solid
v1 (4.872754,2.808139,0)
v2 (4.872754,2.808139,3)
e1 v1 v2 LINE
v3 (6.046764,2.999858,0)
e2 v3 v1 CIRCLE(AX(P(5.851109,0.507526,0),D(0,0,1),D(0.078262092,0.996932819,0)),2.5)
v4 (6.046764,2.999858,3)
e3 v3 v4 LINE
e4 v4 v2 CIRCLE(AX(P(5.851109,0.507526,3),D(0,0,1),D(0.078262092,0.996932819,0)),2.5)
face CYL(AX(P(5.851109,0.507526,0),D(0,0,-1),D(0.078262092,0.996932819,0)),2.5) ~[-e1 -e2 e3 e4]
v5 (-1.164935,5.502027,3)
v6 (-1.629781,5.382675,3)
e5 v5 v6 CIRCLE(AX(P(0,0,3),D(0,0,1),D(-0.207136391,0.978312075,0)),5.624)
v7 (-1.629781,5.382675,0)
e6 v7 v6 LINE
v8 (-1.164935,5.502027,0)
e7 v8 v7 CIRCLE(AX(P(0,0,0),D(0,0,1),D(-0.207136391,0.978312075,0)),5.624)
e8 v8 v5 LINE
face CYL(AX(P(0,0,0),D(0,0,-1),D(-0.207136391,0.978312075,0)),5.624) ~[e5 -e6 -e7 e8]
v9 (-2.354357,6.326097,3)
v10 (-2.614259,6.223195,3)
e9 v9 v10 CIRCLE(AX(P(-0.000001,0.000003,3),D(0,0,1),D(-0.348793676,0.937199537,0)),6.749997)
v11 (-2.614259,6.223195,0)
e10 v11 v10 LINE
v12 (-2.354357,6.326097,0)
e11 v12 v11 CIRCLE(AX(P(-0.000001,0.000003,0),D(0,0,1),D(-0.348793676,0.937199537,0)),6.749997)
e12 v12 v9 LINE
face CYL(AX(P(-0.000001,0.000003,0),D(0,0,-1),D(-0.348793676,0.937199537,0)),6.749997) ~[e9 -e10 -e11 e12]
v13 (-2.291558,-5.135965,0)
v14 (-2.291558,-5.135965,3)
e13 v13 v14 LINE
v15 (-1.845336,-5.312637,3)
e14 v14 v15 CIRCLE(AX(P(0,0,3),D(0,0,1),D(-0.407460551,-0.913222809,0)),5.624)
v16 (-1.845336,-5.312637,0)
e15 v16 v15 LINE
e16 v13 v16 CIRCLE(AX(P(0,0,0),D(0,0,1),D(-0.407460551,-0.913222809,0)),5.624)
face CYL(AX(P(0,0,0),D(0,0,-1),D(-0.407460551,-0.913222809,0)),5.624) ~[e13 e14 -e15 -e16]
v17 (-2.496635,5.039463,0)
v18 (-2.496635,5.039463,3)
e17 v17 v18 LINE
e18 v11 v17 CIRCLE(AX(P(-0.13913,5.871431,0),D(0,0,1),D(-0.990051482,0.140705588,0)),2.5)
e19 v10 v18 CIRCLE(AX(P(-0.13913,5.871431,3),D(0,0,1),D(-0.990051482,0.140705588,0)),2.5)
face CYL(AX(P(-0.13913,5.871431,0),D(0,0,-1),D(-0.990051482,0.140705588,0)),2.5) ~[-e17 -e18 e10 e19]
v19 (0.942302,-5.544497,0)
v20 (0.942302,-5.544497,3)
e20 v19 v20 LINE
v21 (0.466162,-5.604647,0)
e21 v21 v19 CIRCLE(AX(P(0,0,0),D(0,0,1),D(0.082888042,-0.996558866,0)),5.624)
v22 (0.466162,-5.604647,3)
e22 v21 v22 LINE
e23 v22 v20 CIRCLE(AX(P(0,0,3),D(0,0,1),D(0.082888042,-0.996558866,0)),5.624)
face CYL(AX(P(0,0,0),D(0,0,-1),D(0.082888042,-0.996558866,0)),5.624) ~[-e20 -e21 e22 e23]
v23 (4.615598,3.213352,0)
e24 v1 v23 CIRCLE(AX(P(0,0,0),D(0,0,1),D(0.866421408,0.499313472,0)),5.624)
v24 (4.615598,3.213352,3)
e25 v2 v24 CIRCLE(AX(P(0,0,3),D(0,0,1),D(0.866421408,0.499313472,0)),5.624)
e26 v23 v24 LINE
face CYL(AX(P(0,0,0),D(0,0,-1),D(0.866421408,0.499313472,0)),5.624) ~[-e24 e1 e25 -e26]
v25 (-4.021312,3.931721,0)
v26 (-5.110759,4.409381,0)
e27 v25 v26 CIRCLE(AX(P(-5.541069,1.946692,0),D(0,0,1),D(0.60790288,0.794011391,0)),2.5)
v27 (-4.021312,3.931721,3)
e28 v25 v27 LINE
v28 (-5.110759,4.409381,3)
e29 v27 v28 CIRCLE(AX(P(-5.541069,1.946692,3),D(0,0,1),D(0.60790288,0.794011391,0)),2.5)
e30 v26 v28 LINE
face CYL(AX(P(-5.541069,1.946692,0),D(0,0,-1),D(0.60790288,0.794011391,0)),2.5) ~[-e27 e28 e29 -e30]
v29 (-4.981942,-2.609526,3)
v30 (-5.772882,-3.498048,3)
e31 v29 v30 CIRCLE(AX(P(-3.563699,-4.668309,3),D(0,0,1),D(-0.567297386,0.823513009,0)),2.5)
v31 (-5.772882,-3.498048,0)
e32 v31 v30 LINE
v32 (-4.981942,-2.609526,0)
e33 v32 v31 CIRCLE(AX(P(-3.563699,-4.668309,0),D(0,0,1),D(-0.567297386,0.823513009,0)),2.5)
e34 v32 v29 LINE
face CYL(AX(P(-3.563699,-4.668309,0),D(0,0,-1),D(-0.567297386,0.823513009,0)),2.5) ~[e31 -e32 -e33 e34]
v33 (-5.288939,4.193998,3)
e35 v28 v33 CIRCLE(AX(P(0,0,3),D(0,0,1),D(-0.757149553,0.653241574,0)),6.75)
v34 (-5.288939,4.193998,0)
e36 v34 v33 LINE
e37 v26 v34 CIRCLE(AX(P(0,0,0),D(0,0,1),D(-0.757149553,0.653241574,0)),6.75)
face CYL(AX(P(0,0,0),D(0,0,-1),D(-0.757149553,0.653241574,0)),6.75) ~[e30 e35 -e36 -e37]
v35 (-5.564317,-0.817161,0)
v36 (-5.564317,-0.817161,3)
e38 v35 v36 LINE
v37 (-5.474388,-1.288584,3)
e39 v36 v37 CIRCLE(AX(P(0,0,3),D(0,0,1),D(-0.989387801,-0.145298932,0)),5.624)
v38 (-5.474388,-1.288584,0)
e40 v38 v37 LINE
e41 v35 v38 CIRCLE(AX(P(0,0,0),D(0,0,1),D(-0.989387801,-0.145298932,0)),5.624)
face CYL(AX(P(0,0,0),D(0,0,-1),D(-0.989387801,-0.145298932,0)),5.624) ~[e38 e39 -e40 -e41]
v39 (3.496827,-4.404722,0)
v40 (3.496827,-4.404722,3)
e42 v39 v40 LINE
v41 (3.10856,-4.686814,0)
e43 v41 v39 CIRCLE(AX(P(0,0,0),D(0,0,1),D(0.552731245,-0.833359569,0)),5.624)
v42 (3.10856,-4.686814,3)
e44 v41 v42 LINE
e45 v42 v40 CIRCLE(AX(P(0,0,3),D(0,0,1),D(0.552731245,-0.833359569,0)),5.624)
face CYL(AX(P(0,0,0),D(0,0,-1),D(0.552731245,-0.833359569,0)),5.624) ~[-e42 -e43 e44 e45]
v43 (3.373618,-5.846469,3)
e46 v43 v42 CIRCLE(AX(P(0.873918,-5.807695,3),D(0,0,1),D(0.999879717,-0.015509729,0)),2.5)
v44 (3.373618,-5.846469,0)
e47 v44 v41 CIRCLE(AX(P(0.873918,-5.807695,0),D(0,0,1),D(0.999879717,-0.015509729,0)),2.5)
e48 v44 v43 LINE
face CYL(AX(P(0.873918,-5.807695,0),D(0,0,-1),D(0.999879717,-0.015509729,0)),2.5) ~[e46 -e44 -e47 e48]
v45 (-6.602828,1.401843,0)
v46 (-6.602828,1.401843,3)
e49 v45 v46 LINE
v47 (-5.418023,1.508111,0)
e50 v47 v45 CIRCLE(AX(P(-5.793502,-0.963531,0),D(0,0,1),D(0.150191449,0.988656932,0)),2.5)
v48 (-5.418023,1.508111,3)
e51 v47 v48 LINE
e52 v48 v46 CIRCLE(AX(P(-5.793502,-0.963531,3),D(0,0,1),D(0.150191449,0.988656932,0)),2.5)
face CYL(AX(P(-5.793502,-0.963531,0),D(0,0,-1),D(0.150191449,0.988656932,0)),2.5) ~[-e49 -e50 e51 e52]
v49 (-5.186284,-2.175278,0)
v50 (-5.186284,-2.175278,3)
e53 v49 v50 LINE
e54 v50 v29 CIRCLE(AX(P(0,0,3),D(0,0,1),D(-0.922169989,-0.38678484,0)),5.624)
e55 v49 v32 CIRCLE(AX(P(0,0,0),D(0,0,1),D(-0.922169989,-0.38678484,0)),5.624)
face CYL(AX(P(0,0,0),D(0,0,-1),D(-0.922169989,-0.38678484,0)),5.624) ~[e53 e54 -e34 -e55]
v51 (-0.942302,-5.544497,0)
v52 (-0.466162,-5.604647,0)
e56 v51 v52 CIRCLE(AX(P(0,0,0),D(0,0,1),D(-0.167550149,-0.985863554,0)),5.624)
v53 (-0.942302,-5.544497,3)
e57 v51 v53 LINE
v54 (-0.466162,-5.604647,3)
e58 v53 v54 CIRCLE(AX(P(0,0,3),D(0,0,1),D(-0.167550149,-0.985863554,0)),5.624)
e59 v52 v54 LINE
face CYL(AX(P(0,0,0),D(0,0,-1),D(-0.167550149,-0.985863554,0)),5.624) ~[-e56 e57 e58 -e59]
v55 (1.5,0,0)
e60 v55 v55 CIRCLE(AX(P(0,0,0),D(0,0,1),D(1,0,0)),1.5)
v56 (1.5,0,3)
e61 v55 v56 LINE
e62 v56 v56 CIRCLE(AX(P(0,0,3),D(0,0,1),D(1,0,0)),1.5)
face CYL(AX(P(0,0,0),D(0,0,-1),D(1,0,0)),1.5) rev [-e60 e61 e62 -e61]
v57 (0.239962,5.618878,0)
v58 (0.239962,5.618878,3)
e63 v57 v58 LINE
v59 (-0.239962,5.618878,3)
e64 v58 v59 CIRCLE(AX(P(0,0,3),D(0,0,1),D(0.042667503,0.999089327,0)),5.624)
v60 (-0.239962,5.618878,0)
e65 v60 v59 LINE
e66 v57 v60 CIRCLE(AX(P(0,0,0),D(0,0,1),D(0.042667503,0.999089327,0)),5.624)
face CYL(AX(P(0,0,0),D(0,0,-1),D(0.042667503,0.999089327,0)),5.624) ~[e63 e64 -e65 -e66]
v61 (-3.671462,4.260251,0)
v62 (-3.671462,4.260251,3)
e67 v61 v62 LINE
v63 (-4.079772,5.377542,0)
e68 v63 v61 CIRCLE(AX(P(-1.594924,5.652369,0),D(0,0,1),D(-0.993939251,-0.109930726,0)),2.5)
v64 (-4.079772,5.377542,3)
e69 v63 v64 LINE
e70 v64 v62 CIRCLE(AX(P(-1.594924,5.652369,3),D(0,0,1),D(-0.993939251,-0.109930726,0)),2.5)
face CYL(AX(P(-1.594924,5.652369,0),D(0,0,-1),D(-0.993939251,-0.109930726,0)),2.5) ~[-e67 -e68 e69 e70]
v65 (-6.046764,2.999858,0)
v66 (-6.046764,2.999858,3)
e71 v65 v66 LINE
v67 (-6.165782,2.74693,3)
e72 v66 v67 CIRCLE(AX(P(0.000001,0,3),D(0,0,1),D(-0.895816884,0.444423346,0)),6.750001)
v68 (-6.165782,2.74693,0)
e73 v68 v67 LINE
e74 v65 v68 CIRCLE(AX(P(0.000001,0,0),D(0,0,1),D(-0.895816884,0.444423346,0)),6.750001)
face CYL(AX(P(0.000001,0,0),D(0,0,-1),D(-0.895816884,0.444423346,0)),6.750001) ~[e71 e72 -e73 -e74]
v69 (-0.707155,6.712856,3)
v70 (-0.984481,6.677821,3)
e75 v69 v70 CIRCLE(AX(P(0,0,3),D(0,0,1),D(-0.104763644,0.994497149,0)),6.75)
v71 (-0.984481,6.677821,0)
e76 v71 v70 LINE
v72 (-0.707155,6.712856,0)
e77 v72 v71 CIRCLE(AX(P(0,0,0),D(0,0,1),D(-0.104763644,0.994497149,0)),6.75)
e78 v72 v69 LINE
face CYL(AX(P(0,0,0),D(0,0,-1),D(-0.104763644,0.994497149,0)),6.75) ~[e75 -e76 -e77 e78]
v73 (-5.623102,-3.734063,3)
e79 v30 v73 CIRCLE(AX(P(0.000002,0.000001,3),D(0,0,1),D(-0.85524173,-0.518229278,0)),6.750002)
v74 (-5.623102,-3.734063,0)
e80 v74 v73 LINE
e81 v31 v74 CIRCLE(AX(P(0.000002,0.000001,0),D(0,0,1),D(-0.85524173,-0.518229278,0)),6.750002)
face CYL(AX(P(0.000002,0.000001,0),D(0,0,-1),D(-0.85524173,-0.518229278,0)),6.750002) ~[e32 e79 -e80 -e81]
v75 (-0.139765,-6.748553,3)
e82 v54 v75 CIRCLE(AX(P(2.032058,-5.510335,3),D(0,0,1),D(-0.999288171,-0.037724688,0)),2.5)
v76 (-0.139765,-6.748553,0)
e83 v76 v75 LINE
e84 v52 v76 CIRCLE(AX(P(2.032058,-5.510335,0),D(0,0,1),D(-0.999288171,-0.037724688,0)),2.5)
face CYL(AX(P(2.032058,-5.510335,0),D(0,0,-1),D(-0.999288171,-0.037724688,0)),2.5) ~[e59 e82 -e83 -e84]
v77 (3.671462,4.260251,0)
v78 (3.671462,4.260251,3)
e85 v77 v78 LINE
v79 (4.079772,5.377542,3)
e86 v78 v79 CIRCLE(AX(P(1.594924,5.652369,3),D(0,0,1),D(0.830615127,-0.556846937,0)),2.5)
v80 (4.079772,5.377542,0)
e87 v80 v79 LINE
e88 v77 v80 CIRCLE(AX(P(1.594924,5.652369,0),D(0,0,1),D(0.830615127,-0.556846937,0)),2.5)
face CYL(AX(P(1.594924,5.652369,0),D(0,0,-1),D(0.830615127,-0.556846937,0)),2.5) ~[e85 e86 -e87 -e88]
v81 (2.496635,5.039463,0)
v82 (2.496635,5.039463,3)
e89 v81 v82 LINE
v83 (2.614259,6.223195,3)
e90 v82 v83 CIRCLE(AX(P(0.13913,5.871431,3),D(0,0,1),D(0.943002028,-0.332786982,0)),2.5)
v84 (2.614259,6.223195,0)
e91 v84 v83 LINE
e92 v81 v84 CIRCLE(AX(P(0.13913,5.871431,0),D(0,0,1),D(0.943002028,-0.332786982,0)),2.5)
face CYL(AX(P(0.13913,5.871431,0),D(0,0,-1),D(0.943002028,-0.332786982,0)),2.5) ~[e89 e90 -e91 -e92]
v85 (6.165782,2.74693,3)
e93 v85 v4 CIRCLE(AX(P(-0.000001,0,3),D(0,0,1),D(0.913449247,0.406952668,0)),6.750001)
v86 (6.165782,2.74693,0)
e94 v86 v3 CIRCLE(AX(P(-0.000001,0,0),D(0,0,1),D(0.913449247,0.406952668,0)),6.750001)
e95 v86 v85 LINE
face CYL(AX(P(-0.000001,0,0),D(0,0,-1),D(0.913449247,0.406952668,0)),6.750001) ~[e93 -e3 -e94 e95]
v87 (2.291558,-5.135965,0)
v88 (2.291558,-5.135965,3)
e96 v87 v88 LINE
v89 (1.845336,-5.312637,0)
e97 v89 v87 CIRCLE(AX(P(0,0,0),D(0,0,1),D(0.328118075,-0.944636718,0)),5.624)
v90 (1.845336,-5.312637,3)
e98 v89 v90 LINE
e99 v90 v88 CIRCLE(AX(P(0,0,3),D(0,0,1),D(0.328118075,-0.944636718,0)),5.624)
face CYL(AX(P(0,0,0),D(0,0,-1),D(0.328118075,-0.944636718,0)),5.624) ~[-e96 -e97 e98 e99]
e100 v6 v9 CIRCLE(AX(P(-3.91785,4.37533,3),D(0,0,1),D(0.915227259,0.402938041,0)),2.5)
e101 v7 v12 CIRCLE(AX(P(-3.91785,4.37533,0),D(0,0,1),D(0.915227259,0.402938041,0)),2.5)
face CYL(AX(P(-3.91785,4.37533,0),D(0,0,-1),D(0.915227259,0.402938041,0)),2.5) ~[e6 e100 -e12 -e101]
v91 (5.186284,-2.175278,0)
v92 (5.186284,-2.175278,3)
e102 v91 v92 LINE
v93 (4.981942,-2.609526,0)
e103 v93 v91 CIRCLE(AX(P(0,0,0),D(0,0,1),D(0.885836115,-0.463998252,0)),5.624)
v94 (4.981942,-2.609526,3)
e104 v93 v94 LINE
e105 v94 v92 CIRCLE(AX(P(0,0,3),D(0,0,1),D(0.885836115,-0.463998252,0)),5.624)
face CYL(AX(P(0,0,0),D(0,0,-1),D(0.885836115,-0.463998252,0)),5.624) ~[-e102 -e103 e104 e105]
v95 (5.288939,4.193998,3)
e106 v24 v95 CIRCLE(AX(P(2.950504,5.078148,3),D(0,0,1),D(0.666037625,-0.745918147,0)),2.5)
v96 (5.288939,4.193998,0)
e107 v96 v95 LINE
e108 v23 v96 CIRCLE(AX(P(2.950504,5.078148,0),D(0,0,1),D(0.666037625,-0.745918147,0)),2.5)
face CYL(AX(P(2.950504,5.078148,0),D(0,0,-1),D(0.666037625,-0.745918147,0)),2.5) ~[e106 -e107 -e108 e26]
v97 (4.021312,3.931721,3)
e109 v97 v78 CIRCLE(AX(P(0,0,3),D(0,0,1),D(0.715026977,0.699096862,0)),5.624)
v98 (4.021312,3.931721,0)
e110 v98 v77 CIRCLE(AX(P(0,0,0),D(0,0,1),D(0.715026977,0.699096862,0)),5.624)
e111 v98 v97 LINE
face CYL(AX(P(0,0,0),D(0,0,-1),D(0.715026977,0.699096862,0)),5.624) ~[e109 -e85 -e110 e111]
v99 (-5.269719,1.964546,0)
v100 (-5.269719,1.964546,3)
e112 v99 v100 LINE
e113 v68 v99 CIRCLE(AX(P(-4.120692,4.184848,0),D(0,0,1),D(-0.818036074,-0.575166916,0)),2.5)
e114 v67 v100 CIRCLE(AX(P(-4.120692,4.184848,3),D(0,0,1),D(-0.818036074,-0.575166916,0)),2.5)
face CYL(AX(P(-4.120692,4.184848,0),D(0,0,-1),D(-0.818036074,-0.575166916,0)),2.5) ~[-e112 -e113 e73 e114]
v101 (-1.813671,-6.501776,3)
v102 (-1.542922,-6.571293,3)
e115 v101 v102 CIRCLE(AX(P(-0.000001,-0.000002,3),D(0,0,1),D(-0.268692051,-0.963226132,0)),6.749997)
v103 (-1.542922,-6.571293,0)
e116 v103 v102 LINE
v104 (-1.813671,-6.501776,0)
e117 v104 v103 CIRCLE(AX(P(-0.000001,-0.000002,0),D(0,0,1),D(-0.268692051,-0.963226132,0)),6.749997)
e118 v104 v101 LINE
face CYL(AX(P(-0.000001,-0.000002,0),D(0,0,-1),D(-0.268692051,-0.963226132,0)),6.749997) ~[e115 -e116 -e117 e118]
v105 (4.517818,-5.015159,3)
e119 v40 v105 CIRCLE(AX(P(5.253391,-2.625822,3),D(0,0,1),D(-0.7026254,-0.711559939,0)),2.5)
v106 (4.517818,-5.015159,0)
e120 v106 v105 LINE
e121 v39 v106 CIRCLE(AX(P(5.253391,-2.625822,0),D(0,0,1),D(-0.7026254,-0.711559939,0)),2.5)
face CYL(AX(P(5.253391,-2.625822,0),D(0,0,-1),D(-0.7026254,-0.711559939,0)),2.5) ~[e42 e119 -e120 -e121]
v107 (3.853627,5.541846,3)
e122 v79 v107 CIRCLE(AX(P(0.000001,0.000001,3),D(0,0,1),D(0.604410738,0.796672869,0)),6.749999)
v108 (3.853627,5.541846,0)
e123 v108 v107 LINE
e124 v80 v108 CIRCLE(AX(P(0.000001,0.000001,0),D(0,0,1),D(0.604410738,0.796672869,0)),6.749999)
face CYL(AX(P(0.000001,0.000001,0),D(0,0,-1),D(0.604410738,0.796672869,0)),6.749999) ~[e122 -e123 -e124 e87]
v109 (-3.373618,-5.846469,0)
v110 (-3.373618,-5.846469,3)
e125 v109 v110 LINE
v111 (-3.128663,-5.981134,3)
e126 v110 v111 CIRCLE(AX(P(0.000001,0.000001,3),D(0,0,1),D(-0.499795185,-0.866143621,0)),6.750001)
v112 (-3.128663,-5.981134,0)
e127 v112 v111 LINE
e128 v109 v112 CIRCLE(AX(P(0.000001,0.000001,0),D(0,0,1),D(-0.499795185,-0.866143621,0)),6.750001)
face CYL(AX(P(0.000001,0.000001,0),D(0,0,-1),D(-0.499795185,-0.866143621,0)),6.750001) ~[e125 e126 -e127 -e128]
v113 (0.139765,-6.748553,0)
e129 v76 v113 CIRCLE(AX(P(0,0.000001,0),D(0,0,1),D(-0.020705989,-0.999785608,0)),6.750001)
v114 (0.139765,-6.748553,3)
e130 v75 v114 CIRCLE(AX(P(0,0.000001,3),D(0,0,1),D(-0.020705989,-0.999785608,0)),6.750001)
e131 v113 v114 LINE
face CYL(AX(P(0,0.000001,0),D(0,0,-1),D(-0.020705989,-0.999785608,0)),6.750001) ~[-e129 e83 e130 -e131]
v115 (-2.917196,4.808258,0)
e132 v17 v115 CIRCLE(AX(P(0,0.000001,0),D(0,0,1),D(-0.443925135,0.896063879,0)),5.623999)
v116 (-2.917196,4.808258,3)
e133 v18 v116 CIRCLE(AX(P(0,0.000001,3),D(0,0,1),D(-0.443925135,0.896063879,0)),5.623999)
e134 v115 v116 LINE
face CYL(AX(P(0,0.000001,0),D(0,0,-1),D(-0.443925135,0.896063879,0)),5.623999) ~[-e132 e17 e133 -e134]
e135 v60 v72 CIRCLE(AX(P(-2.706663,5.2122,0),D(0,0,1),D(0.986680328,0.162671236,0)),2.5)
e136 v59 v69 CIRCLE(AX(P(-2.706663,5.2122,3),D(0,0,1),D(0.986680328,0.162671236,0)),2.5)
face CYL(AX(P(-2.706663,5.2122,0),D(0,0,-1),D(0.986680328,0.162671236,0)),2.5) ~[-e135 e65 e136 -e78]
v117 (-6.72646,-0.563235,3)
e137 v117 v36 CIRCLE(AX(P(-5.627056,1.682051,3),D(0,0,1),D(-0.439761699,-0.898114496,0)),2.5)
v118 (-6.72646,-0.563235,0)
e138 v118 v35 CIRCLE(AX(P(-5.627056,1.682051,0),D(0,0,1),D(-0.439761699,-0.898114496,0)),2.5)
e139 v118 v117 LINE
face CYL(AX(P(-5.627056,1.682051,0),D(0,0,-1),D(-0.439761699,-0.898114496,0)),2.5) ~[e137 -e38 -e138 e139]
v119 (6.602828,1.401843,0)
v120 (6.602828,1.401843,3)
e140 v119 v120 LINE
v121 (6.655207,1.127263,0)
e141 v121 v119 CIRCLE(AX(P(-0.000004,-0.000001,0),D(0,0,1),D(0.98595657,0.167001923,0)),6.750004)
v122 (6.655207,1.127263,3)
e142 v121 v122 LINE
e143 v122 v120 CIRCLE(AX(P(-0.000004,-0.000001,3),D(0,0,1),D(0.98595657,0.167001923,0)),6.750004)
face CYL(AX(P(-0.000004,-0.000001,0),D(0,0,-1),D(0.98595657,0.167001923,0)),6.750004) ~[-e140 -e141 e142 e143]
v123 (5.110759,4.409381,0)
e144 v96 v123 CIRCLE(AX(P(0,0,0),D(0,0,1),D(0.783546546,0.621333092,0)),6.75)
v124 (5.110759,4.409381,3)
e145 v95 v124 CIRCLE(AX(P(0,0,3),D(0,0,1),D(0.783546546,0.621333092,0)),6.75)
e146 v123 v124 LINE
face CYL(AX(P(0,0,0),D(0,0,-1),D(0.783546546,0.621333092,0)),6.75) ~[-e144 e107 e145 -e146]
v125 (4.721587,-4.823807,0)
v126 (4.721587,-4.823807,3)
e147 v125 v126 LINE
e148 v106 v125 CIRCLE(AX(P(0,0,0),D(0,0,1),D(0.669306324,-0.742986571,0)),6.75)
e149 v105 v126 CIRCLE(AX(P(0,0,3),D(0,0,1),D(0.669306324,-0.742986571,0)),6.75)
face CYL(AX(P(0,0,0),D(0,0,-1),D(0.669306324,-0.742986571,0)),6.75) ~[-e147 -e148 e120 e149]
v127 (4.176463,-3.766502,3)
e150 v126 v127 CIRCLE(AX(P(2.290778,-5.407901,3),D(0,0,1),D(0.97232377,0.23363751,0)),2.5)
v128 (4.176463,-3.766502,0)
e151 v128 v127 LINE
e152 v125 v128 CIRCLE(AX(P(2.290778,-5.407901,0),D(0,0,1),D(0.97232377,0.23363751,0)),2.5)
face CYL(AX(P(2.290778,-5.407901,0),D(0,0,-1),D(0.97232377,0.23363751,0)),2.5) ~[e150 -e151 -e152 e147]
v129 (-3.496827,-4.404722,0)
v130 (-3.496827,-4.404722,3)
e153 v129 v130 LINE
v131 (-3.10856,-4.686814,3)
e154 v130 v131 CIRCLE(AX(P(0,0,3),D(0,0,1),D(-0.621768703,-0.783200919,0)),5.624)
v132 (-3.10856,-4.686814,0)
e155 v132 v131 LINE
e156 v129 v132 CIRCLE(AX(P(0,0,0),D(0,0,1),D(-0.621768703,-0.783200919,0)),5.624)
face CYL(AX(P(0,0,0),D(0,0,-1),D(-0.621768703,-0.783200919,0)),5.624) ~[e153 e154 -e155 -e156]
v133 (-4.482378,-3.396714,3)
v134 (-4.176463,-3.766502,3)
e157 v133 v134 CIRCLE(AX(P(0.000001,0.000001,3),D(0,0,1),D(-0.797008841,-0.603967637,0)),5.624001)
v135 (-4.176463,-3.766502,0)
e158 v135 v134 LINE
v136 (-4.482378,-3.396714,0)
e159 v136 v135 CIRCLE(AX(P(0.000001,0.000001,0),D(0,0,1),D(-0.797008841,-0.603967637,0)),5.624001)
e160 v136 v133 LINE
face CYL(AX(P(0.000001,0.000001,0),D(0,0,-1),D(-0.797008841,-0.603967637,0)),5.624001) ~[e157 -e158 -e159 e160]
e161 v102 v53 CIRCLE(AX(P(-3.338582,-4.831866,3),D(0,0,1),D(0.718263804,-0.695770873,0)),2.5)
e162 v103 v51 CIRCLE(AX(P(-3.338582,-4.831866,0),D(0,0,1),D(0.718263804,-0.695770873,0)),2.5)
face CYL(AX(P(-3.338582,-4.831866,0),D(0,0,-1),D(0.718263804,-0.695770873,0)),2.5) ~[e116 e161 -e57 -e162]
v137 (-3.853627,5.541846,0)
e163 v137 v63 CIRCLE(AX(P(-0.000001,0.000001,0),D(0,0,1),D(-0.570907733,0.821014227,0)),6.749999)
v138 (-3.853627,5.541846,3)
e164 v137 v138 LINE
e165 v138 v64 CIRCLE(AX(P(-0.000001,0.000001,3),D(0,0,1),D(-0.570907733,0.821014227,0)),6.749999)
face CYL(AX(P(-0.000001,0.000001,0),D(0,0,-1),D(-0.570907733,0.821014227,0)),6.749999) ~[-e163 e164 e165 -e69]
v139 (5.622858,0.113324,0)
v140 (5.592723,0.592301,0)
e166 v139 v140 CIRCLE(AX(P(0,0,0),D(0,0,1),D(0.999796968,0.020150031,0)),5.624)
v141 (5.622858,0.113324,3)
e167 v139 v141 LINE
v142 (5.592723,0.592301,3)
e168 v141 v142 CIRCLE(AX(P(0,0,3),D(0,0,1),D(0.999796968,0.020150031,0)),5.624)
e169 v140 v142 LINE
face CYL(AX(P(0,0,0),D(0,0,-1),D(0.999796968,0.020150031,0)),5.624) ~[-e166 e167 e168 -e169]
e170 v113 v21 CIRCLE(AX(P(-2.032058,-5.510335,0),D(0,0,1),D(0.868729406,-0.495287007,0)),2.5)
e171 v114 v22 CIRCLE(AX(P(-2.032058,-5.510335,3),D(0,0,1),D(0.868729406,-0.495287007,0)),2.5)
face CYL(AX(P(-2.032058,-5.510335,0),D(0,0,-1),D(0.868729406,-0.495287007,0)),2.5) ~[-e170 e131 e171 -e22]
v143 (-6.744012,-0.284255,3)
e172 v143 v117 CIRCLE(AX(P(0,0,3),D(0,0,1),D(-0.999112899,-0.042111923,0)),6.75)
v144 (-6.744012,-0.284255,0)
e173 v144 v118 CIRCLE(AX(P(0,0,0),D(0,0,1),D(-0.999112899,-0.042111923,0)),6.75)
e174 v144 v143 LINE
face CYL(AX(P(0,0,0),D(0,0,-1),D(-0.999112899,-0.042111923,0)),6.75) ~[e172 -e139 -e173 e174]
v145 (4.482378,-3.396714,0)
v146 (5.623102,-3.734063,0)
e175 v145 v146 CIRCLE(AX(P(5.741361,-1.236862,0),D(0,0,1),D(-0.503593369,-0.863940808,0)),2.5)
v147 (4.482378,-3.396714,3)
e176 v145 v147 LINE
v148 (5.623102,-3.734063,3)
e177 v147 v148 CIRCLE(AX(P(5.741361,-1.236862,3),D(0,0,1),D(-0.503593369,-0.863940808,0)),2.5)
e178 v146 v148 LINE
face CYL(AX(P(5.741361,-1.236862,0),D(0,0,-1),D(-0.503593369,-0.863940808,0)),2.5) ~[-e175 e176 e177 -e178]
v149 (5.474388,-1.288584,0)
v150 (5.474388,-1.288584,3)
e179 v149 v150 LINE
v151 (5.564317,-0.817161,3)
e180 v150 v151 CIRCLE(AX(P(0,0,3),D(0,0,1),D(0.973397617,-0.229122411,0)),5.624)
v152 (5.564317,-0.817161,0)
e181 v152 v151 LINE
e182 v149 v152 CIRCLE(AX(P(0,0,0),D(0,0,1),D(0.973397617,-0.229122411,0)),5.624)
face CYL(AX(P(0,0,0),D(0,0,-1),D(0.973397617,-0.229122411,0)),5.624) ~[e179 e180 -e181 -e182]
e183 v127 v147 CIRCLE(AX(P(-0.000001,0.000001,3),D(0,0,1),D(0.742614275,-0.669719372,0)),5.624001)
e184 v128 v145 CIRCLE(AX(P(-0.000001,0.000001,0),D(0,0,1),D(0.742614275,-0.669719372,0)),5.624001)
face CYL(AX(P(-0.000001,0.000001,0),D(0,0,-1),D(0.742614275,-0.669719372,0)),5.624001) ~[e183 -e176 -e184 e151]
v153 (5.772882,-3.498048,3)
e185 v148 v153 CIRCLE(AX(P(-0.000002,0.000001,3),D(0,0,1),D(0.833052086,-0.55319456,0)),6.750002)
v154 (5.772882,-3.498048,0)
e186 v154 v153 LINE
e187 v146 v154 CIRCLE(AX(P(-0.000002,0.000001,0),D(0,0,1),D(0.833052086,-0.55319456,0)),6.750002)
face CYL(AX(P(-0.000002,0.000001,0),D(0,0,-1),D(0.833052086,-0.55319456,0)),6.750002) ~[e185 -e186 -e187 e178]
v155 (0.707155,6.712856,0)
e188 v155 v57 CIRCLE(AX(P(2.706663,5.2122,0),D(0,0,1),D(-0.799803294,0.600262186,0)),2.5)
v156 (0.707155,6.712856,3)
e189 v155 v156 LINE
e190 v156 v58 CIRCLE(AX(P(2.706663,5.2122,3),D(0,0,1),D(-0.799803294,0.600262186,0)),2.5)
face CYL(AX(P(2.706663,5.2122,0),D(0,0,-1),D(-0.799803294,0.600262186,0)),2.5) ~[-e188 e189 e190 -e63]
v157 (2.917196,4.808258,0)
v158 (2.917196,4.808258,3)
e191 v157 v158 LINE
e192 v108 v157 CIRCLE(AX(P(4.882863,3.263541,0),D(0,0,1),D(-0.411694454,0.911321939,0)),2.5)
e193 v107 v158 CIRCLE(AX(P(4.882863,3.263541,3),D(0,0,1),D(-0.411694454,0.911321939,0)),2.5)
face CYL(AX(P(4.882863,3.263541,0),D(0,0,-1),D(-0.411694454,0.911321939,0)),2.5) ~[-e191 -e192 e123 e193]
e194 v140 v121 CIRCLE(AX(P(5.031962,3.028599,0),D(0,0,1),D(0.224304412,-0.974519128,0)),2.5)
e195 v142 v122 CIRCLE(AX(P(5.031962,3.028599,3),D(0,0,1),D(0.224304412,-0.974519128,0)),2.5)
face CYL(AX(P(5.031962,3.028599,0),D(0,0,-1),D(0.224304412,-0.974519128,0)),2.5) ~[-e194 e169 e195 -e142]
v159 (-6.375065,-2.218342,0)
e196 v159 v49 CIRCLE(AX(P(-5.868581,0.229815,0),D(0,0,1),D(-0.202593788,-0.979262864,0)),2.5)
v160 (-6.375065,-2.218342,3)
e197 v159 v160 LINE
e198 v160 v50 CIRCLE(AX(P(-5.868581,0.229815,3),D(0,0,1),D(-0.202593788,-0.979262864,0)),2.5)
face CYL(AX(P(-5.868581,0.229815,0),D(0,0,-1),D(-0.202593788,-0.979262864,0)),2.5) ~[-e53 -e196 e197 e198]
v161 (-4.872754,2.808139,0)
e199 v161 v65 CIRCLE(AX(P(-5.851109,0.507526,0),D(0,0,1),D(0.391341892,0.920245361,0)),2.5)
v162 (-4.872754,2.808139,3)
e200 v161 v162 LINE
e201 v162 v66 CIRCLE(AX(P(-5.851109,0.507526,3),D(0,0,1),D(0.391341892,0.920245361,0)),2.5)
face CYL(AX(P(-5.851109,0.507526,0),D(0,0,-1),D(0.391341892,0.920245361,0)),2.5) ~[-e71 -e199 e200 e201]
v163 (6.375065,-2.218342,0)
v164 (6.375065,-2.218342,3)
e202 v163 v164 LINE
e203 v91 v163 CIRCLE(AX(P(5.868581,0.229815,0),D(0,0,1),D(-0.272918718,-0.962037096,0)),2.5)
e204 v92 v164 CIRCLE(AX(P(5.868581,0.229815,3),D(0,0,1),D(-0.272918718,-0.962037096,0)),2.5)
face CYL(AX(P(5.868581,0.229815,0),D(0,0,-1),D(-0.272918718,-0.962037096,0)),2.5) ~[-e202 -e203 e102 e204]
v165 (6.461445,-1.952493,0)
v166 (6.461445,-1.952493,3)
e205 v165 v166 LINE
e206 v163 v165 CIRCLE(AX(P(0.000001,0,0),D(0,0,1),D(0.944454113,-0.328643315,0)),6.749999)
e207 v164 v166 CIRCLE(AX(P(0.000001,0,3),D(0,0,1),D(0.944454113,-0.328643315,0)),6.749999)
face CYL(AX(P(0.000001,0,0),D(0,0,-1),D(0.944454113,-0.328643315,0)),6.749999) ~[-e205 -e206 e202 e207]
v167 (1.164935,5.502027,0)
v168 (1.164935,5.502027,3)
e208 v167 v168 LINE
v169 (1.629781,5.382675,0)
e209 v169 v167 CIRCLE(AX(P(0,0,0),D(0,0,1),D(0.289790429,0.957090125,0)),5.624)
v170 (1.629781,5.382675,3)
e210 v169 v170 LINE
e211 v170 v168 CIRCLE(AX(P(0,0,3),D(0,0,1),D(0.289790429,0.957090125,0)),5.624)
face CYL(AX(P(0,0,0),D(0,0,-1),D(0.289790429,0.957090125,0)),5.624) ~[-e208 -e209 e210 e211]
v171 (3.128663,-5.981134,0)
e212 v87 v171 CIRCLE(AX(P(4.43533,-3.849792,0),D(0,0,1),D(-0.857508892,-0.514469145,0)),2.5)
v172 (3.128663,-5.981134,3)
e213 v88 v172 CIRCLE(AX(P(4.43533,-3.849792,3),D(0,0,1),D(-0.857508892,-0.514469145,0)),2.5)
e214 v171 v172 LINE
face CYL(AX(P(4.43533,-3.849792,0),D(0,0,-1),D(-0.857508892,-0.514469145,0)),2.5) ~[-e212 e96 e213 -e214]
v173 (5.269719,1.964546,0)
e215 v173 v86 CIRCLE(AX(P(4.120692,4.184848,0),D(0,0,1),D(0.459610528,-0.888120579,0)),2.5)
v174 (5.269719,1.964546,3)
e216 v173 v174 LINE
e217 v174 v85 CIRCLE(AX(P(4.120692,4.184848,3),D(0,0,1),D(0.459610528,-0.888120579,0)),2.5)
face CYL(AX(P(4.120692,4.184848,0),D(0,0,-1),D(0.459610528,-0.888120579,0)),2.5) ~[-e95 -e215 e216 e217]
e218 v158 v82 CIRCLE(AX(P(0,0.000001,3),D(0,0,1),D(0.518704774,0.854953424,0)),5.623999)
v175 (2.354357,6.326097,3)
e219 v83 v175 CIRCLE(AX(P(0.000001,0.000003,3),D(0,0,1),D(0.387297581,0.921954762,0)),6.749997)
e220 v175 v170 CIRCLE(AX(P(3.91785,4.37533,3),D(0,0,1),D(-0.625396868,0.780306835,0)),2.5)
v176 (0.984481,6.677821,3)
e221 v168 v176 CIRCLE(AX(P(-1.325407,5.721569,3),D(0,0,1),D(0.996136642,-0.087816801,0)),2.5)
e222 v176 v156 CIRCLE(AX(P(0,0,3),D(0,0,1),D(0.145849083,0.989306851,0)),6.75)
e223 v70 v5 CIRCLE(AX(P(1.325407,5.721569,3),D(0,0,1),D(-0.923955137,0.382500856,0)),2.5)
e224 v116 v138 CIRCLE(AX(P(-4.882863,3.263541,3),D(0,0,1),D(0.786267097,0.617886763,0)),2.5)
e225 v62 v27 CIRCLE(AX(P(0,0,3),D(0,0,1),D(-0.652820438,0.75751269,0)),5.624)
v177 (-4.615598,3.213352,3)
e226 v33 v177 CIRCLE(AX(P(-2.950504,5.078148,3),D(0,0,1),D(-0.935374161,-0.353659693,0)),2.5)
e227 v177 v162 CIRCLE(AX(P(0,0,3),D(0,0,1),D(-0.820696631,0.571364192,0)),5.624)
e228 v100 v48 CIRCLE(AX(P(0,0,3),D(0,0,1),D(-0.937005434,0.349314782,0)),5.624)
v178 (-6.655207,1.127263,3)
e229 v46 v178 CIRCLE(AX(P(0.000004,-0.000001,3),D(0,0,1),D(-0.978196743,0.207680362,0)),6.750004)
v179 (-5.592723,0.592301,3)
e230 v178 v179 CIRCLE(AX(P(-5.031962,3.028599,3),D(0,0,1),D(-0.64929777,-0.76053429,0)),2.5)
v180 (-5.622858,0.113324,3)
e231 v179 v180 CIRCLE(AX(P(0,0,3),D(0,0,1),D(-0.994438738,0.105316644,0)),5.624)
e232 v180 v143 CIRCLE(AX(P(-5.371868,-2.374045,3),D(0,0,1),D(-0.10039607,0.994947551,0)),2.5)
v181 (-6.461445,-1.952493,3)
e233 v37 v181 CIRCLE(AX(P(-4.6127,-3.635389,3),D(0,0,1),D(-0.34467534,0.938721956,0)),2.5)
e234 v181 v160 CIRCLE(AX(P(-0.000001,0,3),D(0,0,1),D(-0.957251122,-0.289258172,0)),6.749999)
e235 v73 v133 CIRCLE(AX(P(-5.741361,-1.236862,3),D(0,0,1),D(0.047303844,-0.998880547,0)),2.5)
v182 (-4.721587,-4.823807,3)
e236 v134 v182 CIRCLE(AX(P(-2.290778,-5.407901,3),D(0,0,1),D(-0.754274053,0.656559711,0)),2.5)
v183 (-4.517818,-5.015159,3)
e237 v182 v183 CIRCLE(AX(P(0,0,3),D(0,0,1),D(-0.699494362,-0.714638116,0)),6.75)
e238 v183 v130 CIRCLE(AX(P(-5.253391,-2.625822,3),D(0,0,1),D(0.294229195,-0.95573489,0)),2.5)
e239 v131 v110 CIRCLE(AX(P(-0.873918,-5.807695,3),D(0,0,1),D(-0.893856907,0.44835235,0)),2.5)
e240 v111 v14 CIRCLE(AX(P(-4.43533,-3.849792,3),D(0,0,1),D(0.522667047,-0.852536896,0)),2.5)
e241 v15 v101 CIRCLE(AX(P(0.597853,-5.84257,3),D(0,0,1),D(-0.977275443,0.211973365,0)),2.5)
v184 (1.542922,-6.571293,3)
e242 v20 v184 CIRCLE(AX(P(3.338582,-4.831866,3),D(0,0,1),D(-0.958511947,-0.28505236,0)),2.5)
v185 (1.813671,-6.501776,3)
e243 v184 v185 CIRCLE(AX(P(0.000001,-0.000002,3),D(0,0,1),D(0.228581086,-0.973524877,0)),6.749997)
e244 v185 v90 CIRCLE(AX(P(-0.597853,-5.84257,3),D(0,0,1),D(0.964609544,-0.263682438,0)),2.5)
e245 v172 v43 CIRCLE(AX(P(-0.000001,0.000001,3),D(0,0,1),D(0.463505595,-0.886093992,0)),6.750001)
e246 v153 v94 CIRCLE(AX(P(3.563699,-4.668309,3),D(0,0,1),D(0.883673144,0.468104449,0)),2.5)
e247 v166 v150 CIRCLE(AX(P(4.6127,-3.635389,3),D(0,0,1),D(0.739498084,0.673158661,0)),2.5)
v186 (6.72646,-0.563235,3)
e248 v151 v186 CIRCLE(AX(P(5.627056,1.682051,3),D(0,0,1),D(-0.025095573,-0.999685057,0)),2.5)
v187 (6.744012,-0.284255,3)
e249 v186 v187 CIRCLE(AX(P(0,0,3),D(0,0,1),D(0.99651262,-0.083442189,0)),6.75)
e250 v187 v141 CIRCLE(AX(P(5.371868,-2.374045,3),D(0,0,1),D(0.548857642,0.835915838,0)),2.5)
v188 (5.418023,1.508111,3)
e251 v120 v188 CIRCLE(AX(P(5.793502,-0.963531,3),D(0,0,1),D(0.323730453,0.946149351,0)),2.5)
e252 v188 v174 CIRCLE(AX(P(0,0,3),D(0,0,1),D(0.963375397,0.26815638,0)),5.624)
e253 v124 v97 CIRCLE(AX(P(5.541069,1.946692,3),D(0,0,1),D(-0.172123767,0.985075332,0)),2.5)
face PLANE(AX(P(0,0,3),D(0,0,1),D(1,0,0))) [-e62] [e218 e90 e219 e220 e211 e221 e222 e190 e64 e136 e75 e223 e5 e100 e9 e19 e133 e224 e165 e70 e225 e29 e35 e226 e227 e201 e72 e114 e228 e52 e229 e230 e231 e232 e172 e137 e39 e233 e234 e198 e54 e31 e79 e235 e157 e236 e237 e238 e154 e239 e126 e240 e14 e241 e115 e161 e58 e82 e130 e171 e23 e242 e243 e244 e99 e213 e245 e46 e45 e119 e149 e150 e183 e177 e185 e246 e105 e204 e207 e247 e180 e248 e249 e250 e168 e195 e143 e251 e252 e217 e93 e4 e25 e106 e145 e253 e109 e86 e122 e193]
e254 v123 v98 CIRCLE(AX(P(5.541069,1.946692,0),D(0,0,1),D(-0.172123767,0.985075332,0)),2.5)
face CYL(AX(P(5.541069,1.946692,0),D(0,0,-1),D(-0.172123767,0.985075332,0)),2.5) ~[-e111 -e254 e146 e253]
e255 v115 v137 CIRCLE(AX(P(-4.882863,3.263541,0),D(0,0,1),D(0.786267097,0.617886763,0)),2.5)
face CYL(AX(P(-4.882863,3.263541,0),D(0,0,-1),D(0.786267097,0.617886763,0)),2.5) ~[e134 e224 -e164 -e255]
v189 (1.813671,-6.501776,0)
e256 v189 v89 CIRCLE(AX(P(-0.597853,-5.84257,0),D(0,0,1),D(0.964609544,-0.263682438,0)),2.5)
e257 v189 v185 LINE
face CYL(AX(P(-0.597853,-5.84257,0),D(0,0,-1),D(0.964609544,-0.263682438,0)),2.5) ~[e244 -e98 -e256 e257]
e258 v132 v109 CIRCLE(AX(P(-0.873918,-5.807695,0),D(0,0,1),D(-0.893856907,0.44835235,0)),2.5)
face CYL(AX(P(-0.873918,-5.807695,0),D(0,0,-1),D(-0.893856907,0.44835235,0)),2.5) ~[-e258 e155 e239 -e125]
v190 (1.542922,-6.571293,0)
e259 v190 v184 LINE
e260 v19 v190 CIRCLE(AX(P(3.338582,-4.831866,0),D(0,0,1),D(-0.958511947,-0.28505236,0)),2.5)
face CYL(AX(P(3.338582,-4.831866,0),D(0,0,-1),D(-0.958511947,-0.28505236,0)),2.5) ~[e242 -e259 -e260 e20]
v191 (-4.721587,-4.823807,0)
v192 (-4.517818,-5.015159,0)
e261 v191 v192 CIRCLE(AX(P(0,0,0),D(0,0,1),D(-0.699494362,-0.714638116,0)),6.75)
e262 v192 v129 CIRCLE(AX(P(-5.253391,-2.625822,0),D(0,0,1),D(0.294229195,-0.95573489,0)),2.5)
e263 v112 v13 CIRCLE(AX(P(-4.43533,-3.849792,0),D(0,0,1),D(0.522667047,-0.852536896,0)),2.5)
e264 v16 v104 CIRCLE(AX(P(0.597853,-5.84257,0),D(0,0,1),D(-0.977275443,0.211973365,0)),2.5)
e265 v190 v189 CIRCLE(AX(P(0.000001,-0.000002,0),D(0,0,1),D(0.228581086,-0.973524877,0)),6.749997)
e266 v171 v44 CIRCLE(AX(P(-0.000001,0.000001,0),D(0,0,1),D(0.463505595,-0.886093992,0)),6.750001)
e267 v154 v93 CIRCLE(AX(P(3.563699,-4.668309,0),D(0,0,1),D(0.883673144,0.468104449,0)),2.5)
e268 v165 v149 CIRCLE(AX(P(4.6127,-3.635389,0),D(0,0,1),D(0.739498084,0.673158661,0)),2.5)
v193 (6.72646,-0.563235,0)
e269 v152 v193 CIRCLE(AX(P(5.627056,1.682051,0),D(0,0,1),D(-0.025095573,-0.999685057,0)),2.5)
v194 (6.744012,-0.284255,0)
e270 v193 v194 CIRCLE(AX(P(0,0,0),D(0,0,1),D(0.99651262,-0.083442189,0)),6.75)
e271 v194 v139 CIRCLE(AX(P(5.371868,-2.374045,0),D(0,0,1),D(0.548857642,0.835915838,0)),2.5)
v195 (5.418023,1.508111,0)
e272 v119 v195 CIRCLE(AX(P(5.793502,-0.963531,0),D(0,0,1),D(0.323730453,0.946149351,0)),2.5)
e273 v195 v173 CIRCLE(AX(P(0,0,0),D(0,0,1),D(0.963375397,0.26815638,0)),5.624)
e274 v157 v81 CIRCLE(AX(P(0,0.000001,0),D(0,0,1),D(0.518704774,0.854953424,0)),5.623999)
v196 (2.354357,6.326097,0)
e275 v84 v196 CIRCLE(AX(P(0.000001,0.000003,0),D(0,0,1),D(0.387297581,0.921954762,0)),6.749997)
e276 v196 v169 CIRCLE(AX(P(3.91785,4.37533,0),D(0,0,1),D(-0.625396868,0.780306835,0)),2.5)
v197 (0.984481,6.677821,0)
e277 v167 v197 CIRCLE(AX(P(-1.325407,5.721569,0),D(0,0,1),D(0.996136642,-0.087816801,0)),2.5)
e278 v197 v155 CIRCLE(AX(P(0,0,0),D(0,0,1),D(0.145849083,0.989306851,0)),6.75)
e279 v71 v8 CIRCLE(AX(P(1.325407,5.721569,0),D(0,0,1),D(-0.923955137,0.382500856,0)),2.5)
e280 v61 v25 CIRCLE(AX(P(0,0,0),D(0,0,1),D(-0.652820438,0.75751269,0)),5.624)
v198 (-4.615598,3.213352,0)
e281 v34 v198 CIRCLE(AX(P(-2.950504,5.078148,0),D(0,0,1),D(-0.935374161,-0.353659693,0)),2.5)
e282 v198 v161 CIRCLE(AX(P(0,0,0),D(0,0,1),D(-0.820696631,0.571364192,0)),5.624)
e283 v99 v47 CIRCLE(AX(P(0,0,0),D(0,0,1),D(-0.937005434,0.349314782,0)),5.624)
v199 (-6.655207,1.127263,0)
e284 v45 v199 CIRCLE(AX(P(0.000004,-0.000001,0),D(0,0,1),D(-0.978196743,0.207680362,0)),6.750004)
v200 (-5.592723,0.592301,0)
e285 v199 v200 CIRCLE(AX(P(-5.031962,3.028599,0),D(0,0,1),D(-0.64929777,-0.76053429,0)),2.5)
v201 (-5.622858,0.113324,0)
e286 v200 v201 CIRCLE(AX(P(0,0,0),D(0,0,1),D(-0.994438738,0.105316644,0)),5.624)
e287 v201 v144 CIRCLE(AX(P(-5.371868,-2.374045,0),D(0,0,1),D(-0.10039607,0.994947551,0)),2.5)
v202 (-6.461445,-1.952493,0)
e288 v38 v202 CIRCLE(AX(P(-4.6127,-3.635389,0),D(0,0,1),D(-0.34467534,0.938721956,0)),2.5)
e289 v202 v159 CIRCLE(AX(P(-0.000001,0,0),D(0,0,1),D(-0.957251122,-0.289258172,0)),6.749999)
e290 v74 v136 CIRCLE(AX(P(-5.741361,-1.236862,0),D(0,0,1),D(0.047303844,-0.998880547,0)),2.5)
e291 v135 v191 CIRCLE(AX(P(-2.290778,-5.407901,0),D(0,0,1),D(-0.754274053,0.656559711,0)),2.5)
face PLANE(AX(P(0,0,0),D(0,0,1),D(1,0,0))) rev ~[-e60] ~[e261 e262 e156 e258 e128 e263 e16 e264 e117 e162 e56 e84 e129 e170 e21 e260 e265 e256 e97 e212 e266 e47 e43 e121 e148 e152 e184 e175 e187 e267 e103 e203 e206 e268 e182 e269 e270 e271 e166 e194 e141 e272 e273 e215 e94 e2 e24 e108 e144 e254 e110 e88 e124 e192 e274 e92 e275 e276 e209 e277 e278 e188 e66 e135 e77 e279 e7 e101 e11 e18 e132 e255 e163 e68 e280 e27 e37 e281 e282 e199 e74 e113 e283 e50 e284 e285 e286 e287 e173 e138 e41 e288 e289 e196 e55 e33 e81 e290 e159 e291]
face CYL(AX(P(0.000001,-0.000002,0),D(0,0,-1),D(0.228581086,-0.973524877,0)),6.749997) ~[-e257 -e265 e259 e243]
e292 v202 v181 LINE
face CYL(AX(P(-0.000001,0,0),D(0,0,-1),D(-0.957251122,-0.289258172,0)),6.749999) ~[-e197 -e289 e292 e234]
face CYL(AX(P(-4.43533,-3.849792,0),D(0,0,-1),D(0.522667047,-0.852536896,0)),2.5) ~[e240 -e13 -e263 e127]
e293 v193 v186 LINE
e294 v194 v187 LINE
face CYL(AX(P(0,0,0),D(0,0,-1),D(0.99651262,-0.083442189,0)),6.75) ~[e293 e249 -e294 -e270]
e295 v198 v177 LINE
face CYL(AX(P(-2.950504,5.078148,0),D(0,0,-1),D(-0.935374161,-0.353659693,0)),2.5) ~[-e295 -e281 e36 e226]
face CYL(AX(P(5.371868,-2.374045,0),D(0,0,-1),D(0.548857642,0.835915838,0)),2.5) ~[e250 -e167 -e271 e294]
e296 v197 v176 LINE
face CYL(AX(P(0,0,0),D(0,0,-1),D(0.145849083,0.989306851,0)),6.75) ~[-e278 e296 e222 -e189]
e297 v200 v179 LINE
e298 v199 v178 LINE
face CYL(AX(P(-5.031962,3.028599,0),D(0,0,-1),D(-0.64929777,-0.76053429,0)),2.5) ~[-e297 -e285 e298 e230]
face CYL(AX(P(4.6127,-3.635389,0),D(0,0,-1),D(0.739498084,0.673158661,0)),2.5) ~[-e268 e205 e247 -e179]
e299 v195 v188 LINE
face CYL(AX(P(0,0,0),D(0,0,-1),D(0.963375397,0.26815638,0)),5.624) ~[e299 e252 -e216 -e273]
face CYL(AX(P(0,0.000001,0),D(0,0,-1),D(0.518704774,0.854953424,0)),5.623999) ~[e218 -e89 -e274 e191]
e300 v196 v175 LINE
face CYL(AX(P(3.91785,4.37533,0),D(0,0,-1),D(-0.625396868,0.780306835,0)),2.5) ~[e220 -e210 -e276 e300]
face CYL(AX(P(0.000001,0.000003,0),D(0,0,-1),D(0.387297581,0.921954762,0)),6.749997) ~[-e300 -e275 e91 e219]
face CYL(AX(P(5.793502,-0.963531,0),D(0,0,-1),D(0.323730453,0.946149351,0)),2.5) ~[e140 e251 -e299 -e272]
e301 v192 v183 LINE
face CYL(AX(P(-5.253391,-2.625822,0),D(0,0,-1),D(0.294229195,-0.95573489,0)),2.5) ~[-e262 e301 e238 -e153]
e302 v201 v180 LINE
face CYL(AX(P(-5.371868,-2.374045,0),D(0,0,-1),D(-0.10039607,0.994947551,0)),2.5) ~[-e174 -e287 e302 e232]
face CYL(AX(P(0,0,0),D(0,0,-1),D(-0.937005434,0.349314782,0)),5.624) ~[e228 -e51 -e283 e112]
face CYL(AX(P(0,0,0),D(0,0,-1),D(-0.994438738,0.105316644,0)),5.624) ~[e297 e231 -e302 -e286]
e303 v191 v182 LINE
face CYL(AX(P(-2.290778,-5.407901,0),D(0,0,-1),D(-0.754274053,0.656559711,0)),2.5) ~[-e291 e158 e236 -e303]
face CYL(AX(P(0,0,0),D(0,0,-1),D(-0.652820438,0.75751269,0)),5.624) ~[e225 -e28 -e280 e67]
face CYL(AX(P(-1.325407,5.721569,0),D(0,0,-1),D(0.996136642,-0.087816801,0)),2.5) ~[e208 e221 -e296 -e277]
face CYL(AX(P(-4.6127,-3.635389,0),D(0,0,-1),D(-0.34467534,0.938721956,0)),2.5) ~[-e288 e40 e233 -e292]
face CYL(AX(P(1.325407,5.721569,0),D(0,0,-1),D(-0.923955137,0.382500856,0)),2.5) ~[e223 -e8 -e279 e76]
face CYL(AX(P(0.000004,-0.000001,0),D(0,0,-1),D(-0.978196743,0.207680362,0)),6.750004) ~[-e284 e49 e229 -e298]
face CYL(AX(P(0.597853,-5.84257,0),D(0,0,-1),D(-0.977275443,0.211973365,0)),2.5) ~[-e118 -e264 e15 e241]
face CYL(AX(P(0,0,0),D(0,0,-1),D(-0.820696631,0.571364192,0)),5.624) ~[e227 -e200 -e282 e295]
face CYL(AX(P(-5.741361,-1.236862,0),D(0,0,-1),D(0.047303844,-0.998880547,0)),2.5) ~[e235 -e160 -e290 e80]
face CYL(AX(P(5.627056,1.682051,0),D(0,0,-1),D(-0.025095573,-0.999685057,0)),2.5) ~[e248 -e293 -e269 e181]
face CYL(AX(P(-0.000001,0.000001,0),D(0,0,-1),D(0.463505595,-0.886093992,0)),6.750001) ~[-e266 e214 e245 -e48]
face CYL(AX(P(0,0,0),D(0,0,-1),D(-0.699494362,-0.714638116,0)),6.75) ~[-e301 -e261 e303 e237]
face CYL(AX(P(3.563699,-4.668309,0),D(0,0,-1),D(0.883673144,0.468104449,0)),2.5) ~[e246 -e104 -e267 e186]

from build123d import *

# Parameters (mm, degrees)
SKETCH_1_R      = 1.5
EXTRUDE_1_DEPTH = 3


with BuildPart() as part:
    # 草图1 → 凸台-拉伸1 (new body)
    with BuildSketch(Plane.XY):
        with BuildLine():
            ThreePointArc((-6.655206862, 1.127262893), (-6.156247128, 0.795666927), (-5.592723466, 0.592300797))
            ThreePointArc((-5.592723466, 0.592300797), (-5.612902321, 0.353133882), (-5.622858145, 0.113323788))
            ThreePointArc((-5.622858145, 0.113323788), (-6.207426789, -0.017810496), (-6.744012071, -0.284255492))
            ThreePointArc((-6.744012071, -0.284255492), (-6.736680417, -0.423836007), (-6.726460182, -0.563234787))
            ThreePointArc((-6.726460182, -0.563234787), (-6.160711622, -0.760326816), (-5.564316992, -0.81716119))
            ThreePointArc((-5.564316992, -0.81716119), (-5.524383498, -1.053832513), (-5.474388197, -1.288584444))
            ThreePointArc((-5.474388197, -1.288584444), (-6.007979772, -1.560975215), (-6.461445064, -1.952492684))
            ThreePointArc((-6.461445064, -1.952492684), (-6.419631485, -2.085864712), (-6.37506527, -2.218342354))
            ThreePointArc((-6.37506527, -2.218342354), (-5.778075948, -2.26854643), (-5.186284018, -2.175277933))
            ThreePointArc((-5.186284018, -2.175277933), (-5.088747343, -2.394582736), (-4.981942305, -2.609526178))
            ThreePointArc((-4.981942305, -2.609526178), (-5.431029289, -3.006058119), (-5.772881701, -3.49804758))
            ThreePointArc((-5.772881701, -3.49804758), (-5.699213497, -3.616830866), (-5.623101562, -3.734063313))
            ThreePointArc((-5.623101562, -3.734063313), (-5.032382511, -3.634224927), (-4.482377745, -3.396713964))
            ThreePointArc((-4.482377745, -3.396713964), (-4.333366477, -3.584872518), (-4.176462656, -3.766501784))
            ThreePointArc((-4.176462656, -3.766501784), (-4.512827263, -4.262259337), (-4.721586948, -4.823807282))
            ThreePointArc((-4.721586948, -4.823807282), (-4.620692965, -4.920538235), (-4.517817702, -5.01515934))
            ThreePointArc((-4.517817702, -5.01515934), (-3.970485973, -4.771551707), (-3.496827193, -4.404721964))
            ThreePointArc((-3.496827193, -4.404721964), (-3.305704259, -4.549911576), (-3.108560498, -4.686814231))
            ThreePointArc((-3.108560498, -4.686814231), (-3.311067702, -5.250647125), (-3.373617523, -5.846469431))
            ThreePointArc((-3.373617523, -5.846469431), (-3.2518373, -5.91507009), (-3.128662741, -5.981134462))
            ThreePointArc((-3.128662741, -5.981134462), (-2.6591092, -5.609064345), (-2.291558128, -5.135965084))
            ThreePointArc((-2.291558128, -5.135965084), (-2.070332484, -5.229062957), (-1.845336051, -5.312636903))
            ThreePointArc((-1.845336051, -5.312636903), (-1.901261581, -5.909117443), (-1.813671302, -6.501776404))
            ThreePointArc((-1.813671302, -6.501776404), (-1.678656738, -6.537936338), (-1.542922393, -6.571292908))
            ThreePointArc((-1.542922393, -6.571292908), (-1.180650815, -6.094138841), (-0.942302038, -5.544496629))
            ThreePointArc((-0.942302038, -5.544496629), (-0.704874106, -5.57965308), (-0.466162354, -5.604647059))
            ThreePointArc((-0.466162354, -5.604647059), (-0.371992202, -6.196296181), (-0.139765443, -6.748552854))
            ThreePointArc((-0.139765443, -6.748552854), (0, -6.75), (0.139765443, -6.748552854))
            ThreePointArc((0.139765443, -6.748552854), (0.371992202, -6.196296181), (0.466162354, -5.604647059))
            ThreePointArc((0.466162354, -5.604647059), (0.704874106, -5.57965308), (0.942302038, -5.544496629))
            ThreePointArc((0.942302038, -5.544496629), (1.180650815, -6.094138841), (1.542922393, -6.571292908))
            ThreePointArc((1.542922393, -6.571292908), (1.678656738, -6.537936338), (1.813671302, -6.501776404))
            ThreePointArc((1.813671302, -6.501776404), (1.901261581, -5.909117443), (1.845336051, -5.312636903))
            ThreePointArc((1.845336051, -5.312636903), (2.070332484, -5.229062957), (2.291558128, -5.135965084))
            ThreePointArc((2.291558128, -5.135965084), (2.6591092, -5.609064345), (3.128662741, -5.981134462))
            ThreePointArc((3.128662741, -5.981134462), (3.2518373, -5.91507009), (3.373617523, -5.846469431))
            ThreePointArc((3.373617523, -5.846469431), (3.311067702, -5.250647125), (3.108560498, -4.686814231))
            ThreePointArc((3.108560498, -4.686814231), (3.305704259, -4.549911576), (3.496827193, -4.404721964))
            ThreePointArc((3.496827193, -4.404721964), (3.970485973, -4.771551707), (4.517817702, -5.01515934))
            ThreePointArc((4.517817702, -5.01515934), (4.620692965, -4.920538235), (4.721586948, -4.823807282))
            ThreePointArc((4.721586948, -4.823807282), (4.512827263, -4.262259337), (4.176462656, -3.766501784))
            ThreePointArc((4.176462656, -3.766501784), (4.333366477, -3.584872518), (4.482377745, -3.396713964))
            ThreePointArc((4.482377745, -3.396713964), (5.032382511, -3.634224927), (5.623101562, -3.734063313))
            ThreePointArc((5.623101562, -3.734063313), (5.699213497, -3.616830866), (5.772881701, -3.49804758))
            ThreePointArc((5.772881701, -3.49804758), (5.431029289, -3.006058119), (4.981942305, -2.609526178))
            ThreePointArc((4.981942305, -2.609526178), (5.088747343, -2.394582736), (5.186284018, -2.175277933))
            ThreePointArc((5.186284018, -2.175277933), (5.778075948, -2.26854643), (6.37506527, -2.218342354))
            ThreePointArc((6.37506527, -2.218342354), (6.419631485, -2.085864712), (6.461445064, -1.952492684))
            ThreePointArc((6.461445064, -1.952492684), (6.007979772, -1.560975215), (5.474388197, -1.288584444))
            ThreePointArc((5.474388197, -1.288584444), (5.524383498, -1.053832513), (5.564316992, -0.81716119))
            ThreePointArc((5.564316992, -0.81716119), (6.160711622, -0.760326816), (6.726460182, -0.563234787))
            ThreePointArc((6.726460182, -0.563234787), (6.736680417, -0.423836007), (6.744012071, -0.284255492))
            ThreePointArc((6.744012071, -0.284255492), (6.207426789, -0.017810496), (5.622858145, 0.113323788))
            ThreePointArc((5.622858145, 0.113323788), (5.612902321, 0.353133882), (5.592723466, 0.592300797))
            ThreePointArc((5.592723466, 0.592300797), (6.156247128, 0.795666927), (6.655206862, 1.127262893))
            ThreePointArc((6.655206862, 1.127262893), (6.630438942, 1.264823873), (6.602827997, 1.401842518))
            ThreePointArc((6.602827997, 1.401842518), (6.016838352, 1.526473321), (5.418023237, 1.508111471))
            ThreePointArc((5.418023237, 1.508111471), (5.348741848, 1.737911576), (5.269718556, 1.964546346))
            ThreePointArc((5.269718556, 1.964546346), (5.764962986, 2.301665991), (6.165782418, 2.7469305))
            ThreePointArc((6.165782418, 2.7469305), (6.107582604, 2.874010218), (6.046763956, 2.999857607))
            ThreePointArc((6.046763956, 2.999857607), (5.448189833, 2.974843206), (4.872754002, 2.808138963))
            ThreePointArc((4.872754002, 2.808138963), (4.748500253, 3.013489895), (4.615597848, 3.213352223))
            ThreePointArc((4.615597848, 3.213352223), (5.011445017, 3.663042916), (5.28893919, 4.193998361))
            ThreePointArc((5.28893919, 4.193998361), (5.200964389, 4.302611931), (5.110759497, 4.40938061))
            ThreePointArc((5.110759497, 4.40938061), (4.53721151, 4.236292751), (4.021311713, 3.931720757))
            ThreePointArc((4.021311713, 3.931720757), (3.849892924, 4.099719561), (3.671462152, 4.260251362))
            ThreePointArc((3.671462152, 4.260251362), (3.943039527, 4.794257382), (4.07977246, 5.37754188))
            ThreePointArc((4.07977246, 5.37754188), (3.967550453, 5.460864712), (3.853627223, 5.541846012))
            ThreePointArc((3.853627223, 5.541846012), (3.341143501, 5.231560443), (2.917195619, 4.808258075))
            ThreePointArc((2.917195619, 4.808258075), (2.709382663, 4.928348769), (2.496634987, 5.039463239))
            ThreePointArc((2.496634987, 5.039463239), (2.626878362, 5.624231026), (2.614258623, 6.223194666))
            ThreePointArc((2.614258623, 6.223194666), (2.484840731, 6.27599128), (2.354357378, 6.326096848))
            ThreePointArc((2.354357378, 6.326096848), (1.935139158, 5.898109951), (1.629781396, 5.382674856))
            ThreePointArc((1.629781396, 5.382674856), (1.398631925, 5.447311698), (1.164935063, 5.502027108))
            ThreePointArc((1.164935063, 5.502027108), (1.145660769, 6.100813549), (0.984481302, 6.677821244))
            ThreePointArc((0.984481302, 6.677821244), (0.845999327, 6.696774234), (0.7071546, 6.712855754))
            ThreePointArc((0.7071546, 6.712855754), (0.407542904, 6.19405952), (0.239962014, 5.618878378))
            ThreePointArc((0.239962014, 5.618878378), (0, 5.624), (-0.239962014, 5.618878378))
            ThreePointArc((-0.239962014, 5.618878378), (-0.407542904, 6.19405952), (-0.7071546, 6.712855754))
            ThreePointArc((-0.7071546, 6.712855754), (-0.845999327, 6.696774234), (-0.984481302, 6.677821244))
            ThreePointArc((-0.984481302, 6.677821244), (-1.145660769, 6.100813549), (-1.164935063, 5.502027108))
            ThreePointArc((-1.164935063, 5.502027108), (-1.398631925, 5.447311698), (-1.629781396, 5.382674855))
            ThreePointArc((-1.629781396, 5.382674855), (-1.935139158, 5.898109951), (-2.354357378, 6.326096848))
            ThreePointArc((-2.354357378, 6.326096848), (-2.484840731, 6.27599128), (-2.614258623, 6.223194666))
            ThreePointArc((-2.614258623, 6.223194666), (-2.626878362, 5.624231026), (-2.496634987, 5.039463239))
            ThreePointArc((-2.496634987, 5.039463239), (-2.709382663, 4.928348769), (-2.917195619, 4.808258075))
            ThreePointArc((-2.917195619, 4.808258075), (-3.341143501, 5.231560443), (-3.853627223, 5.541846012))
            ThreePointArc((-3.853627223, 5.541846012), (-3.967550453, 5.460864712), (-4.07977246, 5.37754188))
            ThreePointArc((-4.07977246, 5.37754188), (-3.943039527, 4.794257382), (-3.671462152, 4.260251362))
            ThreePointArc((-3.671462152, 4.260251362), (-3.849892924, 4.099719561), (-4.021311713, 3.931720757))
            ThreePointArc((-4.021311713, 3.931720757), (-4.53721151, 4.236292751), (-5.110759497, 4.40938061))
            ThreePointArc((-5.110759497, 4.40938061), (-5.200964389, 4.302611931), (-5.28893919, 4.193998361))
            ThreePointArc((-5.28893919, 4.193998361), (-5.011445017, 3.663042916), (-4.615597848, 3.213352223))
            ThreePointArc((-4.615597848, 3.213352223), (-4.748500253, 3.013489895), (-4.872754002, 2.808138963))
            ThreePointArc((-4.872754002, 2.808138963), (-5.448189833, 2.974843206), (-6.046763956, 2.999857607))
            ThreePointArc((-6.046763956, 2.999857607), (-6.107582604, 2.874010218), (-6.165782418, 2.7469305))
            ThreePointArc((-6.165782418, 2.7469305), (-5.764962986, 2.301665991), (-5.269718556, 1.964546346))
            ThreePointArc((-5.269718556, 1.964546346), (-5.348741848, 1.737911576), (-5.418023237, 1.508111471))
            ThreePointArc((-5.418023237, 1.508111471), (-6.016838352, 1.526473321), (-6.602827997, 1.401842518))
            ThreePointArc((-6.602827997, 1.401842518), (-6.630438942, 1.264823873), (-6.655206862, 1.127262893))
        make_face()
        Circle(SKETCH_1_R, mode=Mode.SUBTRACT)
    extrude(amount=EXTRUDE_1_DEPTH)


solid = part.part
